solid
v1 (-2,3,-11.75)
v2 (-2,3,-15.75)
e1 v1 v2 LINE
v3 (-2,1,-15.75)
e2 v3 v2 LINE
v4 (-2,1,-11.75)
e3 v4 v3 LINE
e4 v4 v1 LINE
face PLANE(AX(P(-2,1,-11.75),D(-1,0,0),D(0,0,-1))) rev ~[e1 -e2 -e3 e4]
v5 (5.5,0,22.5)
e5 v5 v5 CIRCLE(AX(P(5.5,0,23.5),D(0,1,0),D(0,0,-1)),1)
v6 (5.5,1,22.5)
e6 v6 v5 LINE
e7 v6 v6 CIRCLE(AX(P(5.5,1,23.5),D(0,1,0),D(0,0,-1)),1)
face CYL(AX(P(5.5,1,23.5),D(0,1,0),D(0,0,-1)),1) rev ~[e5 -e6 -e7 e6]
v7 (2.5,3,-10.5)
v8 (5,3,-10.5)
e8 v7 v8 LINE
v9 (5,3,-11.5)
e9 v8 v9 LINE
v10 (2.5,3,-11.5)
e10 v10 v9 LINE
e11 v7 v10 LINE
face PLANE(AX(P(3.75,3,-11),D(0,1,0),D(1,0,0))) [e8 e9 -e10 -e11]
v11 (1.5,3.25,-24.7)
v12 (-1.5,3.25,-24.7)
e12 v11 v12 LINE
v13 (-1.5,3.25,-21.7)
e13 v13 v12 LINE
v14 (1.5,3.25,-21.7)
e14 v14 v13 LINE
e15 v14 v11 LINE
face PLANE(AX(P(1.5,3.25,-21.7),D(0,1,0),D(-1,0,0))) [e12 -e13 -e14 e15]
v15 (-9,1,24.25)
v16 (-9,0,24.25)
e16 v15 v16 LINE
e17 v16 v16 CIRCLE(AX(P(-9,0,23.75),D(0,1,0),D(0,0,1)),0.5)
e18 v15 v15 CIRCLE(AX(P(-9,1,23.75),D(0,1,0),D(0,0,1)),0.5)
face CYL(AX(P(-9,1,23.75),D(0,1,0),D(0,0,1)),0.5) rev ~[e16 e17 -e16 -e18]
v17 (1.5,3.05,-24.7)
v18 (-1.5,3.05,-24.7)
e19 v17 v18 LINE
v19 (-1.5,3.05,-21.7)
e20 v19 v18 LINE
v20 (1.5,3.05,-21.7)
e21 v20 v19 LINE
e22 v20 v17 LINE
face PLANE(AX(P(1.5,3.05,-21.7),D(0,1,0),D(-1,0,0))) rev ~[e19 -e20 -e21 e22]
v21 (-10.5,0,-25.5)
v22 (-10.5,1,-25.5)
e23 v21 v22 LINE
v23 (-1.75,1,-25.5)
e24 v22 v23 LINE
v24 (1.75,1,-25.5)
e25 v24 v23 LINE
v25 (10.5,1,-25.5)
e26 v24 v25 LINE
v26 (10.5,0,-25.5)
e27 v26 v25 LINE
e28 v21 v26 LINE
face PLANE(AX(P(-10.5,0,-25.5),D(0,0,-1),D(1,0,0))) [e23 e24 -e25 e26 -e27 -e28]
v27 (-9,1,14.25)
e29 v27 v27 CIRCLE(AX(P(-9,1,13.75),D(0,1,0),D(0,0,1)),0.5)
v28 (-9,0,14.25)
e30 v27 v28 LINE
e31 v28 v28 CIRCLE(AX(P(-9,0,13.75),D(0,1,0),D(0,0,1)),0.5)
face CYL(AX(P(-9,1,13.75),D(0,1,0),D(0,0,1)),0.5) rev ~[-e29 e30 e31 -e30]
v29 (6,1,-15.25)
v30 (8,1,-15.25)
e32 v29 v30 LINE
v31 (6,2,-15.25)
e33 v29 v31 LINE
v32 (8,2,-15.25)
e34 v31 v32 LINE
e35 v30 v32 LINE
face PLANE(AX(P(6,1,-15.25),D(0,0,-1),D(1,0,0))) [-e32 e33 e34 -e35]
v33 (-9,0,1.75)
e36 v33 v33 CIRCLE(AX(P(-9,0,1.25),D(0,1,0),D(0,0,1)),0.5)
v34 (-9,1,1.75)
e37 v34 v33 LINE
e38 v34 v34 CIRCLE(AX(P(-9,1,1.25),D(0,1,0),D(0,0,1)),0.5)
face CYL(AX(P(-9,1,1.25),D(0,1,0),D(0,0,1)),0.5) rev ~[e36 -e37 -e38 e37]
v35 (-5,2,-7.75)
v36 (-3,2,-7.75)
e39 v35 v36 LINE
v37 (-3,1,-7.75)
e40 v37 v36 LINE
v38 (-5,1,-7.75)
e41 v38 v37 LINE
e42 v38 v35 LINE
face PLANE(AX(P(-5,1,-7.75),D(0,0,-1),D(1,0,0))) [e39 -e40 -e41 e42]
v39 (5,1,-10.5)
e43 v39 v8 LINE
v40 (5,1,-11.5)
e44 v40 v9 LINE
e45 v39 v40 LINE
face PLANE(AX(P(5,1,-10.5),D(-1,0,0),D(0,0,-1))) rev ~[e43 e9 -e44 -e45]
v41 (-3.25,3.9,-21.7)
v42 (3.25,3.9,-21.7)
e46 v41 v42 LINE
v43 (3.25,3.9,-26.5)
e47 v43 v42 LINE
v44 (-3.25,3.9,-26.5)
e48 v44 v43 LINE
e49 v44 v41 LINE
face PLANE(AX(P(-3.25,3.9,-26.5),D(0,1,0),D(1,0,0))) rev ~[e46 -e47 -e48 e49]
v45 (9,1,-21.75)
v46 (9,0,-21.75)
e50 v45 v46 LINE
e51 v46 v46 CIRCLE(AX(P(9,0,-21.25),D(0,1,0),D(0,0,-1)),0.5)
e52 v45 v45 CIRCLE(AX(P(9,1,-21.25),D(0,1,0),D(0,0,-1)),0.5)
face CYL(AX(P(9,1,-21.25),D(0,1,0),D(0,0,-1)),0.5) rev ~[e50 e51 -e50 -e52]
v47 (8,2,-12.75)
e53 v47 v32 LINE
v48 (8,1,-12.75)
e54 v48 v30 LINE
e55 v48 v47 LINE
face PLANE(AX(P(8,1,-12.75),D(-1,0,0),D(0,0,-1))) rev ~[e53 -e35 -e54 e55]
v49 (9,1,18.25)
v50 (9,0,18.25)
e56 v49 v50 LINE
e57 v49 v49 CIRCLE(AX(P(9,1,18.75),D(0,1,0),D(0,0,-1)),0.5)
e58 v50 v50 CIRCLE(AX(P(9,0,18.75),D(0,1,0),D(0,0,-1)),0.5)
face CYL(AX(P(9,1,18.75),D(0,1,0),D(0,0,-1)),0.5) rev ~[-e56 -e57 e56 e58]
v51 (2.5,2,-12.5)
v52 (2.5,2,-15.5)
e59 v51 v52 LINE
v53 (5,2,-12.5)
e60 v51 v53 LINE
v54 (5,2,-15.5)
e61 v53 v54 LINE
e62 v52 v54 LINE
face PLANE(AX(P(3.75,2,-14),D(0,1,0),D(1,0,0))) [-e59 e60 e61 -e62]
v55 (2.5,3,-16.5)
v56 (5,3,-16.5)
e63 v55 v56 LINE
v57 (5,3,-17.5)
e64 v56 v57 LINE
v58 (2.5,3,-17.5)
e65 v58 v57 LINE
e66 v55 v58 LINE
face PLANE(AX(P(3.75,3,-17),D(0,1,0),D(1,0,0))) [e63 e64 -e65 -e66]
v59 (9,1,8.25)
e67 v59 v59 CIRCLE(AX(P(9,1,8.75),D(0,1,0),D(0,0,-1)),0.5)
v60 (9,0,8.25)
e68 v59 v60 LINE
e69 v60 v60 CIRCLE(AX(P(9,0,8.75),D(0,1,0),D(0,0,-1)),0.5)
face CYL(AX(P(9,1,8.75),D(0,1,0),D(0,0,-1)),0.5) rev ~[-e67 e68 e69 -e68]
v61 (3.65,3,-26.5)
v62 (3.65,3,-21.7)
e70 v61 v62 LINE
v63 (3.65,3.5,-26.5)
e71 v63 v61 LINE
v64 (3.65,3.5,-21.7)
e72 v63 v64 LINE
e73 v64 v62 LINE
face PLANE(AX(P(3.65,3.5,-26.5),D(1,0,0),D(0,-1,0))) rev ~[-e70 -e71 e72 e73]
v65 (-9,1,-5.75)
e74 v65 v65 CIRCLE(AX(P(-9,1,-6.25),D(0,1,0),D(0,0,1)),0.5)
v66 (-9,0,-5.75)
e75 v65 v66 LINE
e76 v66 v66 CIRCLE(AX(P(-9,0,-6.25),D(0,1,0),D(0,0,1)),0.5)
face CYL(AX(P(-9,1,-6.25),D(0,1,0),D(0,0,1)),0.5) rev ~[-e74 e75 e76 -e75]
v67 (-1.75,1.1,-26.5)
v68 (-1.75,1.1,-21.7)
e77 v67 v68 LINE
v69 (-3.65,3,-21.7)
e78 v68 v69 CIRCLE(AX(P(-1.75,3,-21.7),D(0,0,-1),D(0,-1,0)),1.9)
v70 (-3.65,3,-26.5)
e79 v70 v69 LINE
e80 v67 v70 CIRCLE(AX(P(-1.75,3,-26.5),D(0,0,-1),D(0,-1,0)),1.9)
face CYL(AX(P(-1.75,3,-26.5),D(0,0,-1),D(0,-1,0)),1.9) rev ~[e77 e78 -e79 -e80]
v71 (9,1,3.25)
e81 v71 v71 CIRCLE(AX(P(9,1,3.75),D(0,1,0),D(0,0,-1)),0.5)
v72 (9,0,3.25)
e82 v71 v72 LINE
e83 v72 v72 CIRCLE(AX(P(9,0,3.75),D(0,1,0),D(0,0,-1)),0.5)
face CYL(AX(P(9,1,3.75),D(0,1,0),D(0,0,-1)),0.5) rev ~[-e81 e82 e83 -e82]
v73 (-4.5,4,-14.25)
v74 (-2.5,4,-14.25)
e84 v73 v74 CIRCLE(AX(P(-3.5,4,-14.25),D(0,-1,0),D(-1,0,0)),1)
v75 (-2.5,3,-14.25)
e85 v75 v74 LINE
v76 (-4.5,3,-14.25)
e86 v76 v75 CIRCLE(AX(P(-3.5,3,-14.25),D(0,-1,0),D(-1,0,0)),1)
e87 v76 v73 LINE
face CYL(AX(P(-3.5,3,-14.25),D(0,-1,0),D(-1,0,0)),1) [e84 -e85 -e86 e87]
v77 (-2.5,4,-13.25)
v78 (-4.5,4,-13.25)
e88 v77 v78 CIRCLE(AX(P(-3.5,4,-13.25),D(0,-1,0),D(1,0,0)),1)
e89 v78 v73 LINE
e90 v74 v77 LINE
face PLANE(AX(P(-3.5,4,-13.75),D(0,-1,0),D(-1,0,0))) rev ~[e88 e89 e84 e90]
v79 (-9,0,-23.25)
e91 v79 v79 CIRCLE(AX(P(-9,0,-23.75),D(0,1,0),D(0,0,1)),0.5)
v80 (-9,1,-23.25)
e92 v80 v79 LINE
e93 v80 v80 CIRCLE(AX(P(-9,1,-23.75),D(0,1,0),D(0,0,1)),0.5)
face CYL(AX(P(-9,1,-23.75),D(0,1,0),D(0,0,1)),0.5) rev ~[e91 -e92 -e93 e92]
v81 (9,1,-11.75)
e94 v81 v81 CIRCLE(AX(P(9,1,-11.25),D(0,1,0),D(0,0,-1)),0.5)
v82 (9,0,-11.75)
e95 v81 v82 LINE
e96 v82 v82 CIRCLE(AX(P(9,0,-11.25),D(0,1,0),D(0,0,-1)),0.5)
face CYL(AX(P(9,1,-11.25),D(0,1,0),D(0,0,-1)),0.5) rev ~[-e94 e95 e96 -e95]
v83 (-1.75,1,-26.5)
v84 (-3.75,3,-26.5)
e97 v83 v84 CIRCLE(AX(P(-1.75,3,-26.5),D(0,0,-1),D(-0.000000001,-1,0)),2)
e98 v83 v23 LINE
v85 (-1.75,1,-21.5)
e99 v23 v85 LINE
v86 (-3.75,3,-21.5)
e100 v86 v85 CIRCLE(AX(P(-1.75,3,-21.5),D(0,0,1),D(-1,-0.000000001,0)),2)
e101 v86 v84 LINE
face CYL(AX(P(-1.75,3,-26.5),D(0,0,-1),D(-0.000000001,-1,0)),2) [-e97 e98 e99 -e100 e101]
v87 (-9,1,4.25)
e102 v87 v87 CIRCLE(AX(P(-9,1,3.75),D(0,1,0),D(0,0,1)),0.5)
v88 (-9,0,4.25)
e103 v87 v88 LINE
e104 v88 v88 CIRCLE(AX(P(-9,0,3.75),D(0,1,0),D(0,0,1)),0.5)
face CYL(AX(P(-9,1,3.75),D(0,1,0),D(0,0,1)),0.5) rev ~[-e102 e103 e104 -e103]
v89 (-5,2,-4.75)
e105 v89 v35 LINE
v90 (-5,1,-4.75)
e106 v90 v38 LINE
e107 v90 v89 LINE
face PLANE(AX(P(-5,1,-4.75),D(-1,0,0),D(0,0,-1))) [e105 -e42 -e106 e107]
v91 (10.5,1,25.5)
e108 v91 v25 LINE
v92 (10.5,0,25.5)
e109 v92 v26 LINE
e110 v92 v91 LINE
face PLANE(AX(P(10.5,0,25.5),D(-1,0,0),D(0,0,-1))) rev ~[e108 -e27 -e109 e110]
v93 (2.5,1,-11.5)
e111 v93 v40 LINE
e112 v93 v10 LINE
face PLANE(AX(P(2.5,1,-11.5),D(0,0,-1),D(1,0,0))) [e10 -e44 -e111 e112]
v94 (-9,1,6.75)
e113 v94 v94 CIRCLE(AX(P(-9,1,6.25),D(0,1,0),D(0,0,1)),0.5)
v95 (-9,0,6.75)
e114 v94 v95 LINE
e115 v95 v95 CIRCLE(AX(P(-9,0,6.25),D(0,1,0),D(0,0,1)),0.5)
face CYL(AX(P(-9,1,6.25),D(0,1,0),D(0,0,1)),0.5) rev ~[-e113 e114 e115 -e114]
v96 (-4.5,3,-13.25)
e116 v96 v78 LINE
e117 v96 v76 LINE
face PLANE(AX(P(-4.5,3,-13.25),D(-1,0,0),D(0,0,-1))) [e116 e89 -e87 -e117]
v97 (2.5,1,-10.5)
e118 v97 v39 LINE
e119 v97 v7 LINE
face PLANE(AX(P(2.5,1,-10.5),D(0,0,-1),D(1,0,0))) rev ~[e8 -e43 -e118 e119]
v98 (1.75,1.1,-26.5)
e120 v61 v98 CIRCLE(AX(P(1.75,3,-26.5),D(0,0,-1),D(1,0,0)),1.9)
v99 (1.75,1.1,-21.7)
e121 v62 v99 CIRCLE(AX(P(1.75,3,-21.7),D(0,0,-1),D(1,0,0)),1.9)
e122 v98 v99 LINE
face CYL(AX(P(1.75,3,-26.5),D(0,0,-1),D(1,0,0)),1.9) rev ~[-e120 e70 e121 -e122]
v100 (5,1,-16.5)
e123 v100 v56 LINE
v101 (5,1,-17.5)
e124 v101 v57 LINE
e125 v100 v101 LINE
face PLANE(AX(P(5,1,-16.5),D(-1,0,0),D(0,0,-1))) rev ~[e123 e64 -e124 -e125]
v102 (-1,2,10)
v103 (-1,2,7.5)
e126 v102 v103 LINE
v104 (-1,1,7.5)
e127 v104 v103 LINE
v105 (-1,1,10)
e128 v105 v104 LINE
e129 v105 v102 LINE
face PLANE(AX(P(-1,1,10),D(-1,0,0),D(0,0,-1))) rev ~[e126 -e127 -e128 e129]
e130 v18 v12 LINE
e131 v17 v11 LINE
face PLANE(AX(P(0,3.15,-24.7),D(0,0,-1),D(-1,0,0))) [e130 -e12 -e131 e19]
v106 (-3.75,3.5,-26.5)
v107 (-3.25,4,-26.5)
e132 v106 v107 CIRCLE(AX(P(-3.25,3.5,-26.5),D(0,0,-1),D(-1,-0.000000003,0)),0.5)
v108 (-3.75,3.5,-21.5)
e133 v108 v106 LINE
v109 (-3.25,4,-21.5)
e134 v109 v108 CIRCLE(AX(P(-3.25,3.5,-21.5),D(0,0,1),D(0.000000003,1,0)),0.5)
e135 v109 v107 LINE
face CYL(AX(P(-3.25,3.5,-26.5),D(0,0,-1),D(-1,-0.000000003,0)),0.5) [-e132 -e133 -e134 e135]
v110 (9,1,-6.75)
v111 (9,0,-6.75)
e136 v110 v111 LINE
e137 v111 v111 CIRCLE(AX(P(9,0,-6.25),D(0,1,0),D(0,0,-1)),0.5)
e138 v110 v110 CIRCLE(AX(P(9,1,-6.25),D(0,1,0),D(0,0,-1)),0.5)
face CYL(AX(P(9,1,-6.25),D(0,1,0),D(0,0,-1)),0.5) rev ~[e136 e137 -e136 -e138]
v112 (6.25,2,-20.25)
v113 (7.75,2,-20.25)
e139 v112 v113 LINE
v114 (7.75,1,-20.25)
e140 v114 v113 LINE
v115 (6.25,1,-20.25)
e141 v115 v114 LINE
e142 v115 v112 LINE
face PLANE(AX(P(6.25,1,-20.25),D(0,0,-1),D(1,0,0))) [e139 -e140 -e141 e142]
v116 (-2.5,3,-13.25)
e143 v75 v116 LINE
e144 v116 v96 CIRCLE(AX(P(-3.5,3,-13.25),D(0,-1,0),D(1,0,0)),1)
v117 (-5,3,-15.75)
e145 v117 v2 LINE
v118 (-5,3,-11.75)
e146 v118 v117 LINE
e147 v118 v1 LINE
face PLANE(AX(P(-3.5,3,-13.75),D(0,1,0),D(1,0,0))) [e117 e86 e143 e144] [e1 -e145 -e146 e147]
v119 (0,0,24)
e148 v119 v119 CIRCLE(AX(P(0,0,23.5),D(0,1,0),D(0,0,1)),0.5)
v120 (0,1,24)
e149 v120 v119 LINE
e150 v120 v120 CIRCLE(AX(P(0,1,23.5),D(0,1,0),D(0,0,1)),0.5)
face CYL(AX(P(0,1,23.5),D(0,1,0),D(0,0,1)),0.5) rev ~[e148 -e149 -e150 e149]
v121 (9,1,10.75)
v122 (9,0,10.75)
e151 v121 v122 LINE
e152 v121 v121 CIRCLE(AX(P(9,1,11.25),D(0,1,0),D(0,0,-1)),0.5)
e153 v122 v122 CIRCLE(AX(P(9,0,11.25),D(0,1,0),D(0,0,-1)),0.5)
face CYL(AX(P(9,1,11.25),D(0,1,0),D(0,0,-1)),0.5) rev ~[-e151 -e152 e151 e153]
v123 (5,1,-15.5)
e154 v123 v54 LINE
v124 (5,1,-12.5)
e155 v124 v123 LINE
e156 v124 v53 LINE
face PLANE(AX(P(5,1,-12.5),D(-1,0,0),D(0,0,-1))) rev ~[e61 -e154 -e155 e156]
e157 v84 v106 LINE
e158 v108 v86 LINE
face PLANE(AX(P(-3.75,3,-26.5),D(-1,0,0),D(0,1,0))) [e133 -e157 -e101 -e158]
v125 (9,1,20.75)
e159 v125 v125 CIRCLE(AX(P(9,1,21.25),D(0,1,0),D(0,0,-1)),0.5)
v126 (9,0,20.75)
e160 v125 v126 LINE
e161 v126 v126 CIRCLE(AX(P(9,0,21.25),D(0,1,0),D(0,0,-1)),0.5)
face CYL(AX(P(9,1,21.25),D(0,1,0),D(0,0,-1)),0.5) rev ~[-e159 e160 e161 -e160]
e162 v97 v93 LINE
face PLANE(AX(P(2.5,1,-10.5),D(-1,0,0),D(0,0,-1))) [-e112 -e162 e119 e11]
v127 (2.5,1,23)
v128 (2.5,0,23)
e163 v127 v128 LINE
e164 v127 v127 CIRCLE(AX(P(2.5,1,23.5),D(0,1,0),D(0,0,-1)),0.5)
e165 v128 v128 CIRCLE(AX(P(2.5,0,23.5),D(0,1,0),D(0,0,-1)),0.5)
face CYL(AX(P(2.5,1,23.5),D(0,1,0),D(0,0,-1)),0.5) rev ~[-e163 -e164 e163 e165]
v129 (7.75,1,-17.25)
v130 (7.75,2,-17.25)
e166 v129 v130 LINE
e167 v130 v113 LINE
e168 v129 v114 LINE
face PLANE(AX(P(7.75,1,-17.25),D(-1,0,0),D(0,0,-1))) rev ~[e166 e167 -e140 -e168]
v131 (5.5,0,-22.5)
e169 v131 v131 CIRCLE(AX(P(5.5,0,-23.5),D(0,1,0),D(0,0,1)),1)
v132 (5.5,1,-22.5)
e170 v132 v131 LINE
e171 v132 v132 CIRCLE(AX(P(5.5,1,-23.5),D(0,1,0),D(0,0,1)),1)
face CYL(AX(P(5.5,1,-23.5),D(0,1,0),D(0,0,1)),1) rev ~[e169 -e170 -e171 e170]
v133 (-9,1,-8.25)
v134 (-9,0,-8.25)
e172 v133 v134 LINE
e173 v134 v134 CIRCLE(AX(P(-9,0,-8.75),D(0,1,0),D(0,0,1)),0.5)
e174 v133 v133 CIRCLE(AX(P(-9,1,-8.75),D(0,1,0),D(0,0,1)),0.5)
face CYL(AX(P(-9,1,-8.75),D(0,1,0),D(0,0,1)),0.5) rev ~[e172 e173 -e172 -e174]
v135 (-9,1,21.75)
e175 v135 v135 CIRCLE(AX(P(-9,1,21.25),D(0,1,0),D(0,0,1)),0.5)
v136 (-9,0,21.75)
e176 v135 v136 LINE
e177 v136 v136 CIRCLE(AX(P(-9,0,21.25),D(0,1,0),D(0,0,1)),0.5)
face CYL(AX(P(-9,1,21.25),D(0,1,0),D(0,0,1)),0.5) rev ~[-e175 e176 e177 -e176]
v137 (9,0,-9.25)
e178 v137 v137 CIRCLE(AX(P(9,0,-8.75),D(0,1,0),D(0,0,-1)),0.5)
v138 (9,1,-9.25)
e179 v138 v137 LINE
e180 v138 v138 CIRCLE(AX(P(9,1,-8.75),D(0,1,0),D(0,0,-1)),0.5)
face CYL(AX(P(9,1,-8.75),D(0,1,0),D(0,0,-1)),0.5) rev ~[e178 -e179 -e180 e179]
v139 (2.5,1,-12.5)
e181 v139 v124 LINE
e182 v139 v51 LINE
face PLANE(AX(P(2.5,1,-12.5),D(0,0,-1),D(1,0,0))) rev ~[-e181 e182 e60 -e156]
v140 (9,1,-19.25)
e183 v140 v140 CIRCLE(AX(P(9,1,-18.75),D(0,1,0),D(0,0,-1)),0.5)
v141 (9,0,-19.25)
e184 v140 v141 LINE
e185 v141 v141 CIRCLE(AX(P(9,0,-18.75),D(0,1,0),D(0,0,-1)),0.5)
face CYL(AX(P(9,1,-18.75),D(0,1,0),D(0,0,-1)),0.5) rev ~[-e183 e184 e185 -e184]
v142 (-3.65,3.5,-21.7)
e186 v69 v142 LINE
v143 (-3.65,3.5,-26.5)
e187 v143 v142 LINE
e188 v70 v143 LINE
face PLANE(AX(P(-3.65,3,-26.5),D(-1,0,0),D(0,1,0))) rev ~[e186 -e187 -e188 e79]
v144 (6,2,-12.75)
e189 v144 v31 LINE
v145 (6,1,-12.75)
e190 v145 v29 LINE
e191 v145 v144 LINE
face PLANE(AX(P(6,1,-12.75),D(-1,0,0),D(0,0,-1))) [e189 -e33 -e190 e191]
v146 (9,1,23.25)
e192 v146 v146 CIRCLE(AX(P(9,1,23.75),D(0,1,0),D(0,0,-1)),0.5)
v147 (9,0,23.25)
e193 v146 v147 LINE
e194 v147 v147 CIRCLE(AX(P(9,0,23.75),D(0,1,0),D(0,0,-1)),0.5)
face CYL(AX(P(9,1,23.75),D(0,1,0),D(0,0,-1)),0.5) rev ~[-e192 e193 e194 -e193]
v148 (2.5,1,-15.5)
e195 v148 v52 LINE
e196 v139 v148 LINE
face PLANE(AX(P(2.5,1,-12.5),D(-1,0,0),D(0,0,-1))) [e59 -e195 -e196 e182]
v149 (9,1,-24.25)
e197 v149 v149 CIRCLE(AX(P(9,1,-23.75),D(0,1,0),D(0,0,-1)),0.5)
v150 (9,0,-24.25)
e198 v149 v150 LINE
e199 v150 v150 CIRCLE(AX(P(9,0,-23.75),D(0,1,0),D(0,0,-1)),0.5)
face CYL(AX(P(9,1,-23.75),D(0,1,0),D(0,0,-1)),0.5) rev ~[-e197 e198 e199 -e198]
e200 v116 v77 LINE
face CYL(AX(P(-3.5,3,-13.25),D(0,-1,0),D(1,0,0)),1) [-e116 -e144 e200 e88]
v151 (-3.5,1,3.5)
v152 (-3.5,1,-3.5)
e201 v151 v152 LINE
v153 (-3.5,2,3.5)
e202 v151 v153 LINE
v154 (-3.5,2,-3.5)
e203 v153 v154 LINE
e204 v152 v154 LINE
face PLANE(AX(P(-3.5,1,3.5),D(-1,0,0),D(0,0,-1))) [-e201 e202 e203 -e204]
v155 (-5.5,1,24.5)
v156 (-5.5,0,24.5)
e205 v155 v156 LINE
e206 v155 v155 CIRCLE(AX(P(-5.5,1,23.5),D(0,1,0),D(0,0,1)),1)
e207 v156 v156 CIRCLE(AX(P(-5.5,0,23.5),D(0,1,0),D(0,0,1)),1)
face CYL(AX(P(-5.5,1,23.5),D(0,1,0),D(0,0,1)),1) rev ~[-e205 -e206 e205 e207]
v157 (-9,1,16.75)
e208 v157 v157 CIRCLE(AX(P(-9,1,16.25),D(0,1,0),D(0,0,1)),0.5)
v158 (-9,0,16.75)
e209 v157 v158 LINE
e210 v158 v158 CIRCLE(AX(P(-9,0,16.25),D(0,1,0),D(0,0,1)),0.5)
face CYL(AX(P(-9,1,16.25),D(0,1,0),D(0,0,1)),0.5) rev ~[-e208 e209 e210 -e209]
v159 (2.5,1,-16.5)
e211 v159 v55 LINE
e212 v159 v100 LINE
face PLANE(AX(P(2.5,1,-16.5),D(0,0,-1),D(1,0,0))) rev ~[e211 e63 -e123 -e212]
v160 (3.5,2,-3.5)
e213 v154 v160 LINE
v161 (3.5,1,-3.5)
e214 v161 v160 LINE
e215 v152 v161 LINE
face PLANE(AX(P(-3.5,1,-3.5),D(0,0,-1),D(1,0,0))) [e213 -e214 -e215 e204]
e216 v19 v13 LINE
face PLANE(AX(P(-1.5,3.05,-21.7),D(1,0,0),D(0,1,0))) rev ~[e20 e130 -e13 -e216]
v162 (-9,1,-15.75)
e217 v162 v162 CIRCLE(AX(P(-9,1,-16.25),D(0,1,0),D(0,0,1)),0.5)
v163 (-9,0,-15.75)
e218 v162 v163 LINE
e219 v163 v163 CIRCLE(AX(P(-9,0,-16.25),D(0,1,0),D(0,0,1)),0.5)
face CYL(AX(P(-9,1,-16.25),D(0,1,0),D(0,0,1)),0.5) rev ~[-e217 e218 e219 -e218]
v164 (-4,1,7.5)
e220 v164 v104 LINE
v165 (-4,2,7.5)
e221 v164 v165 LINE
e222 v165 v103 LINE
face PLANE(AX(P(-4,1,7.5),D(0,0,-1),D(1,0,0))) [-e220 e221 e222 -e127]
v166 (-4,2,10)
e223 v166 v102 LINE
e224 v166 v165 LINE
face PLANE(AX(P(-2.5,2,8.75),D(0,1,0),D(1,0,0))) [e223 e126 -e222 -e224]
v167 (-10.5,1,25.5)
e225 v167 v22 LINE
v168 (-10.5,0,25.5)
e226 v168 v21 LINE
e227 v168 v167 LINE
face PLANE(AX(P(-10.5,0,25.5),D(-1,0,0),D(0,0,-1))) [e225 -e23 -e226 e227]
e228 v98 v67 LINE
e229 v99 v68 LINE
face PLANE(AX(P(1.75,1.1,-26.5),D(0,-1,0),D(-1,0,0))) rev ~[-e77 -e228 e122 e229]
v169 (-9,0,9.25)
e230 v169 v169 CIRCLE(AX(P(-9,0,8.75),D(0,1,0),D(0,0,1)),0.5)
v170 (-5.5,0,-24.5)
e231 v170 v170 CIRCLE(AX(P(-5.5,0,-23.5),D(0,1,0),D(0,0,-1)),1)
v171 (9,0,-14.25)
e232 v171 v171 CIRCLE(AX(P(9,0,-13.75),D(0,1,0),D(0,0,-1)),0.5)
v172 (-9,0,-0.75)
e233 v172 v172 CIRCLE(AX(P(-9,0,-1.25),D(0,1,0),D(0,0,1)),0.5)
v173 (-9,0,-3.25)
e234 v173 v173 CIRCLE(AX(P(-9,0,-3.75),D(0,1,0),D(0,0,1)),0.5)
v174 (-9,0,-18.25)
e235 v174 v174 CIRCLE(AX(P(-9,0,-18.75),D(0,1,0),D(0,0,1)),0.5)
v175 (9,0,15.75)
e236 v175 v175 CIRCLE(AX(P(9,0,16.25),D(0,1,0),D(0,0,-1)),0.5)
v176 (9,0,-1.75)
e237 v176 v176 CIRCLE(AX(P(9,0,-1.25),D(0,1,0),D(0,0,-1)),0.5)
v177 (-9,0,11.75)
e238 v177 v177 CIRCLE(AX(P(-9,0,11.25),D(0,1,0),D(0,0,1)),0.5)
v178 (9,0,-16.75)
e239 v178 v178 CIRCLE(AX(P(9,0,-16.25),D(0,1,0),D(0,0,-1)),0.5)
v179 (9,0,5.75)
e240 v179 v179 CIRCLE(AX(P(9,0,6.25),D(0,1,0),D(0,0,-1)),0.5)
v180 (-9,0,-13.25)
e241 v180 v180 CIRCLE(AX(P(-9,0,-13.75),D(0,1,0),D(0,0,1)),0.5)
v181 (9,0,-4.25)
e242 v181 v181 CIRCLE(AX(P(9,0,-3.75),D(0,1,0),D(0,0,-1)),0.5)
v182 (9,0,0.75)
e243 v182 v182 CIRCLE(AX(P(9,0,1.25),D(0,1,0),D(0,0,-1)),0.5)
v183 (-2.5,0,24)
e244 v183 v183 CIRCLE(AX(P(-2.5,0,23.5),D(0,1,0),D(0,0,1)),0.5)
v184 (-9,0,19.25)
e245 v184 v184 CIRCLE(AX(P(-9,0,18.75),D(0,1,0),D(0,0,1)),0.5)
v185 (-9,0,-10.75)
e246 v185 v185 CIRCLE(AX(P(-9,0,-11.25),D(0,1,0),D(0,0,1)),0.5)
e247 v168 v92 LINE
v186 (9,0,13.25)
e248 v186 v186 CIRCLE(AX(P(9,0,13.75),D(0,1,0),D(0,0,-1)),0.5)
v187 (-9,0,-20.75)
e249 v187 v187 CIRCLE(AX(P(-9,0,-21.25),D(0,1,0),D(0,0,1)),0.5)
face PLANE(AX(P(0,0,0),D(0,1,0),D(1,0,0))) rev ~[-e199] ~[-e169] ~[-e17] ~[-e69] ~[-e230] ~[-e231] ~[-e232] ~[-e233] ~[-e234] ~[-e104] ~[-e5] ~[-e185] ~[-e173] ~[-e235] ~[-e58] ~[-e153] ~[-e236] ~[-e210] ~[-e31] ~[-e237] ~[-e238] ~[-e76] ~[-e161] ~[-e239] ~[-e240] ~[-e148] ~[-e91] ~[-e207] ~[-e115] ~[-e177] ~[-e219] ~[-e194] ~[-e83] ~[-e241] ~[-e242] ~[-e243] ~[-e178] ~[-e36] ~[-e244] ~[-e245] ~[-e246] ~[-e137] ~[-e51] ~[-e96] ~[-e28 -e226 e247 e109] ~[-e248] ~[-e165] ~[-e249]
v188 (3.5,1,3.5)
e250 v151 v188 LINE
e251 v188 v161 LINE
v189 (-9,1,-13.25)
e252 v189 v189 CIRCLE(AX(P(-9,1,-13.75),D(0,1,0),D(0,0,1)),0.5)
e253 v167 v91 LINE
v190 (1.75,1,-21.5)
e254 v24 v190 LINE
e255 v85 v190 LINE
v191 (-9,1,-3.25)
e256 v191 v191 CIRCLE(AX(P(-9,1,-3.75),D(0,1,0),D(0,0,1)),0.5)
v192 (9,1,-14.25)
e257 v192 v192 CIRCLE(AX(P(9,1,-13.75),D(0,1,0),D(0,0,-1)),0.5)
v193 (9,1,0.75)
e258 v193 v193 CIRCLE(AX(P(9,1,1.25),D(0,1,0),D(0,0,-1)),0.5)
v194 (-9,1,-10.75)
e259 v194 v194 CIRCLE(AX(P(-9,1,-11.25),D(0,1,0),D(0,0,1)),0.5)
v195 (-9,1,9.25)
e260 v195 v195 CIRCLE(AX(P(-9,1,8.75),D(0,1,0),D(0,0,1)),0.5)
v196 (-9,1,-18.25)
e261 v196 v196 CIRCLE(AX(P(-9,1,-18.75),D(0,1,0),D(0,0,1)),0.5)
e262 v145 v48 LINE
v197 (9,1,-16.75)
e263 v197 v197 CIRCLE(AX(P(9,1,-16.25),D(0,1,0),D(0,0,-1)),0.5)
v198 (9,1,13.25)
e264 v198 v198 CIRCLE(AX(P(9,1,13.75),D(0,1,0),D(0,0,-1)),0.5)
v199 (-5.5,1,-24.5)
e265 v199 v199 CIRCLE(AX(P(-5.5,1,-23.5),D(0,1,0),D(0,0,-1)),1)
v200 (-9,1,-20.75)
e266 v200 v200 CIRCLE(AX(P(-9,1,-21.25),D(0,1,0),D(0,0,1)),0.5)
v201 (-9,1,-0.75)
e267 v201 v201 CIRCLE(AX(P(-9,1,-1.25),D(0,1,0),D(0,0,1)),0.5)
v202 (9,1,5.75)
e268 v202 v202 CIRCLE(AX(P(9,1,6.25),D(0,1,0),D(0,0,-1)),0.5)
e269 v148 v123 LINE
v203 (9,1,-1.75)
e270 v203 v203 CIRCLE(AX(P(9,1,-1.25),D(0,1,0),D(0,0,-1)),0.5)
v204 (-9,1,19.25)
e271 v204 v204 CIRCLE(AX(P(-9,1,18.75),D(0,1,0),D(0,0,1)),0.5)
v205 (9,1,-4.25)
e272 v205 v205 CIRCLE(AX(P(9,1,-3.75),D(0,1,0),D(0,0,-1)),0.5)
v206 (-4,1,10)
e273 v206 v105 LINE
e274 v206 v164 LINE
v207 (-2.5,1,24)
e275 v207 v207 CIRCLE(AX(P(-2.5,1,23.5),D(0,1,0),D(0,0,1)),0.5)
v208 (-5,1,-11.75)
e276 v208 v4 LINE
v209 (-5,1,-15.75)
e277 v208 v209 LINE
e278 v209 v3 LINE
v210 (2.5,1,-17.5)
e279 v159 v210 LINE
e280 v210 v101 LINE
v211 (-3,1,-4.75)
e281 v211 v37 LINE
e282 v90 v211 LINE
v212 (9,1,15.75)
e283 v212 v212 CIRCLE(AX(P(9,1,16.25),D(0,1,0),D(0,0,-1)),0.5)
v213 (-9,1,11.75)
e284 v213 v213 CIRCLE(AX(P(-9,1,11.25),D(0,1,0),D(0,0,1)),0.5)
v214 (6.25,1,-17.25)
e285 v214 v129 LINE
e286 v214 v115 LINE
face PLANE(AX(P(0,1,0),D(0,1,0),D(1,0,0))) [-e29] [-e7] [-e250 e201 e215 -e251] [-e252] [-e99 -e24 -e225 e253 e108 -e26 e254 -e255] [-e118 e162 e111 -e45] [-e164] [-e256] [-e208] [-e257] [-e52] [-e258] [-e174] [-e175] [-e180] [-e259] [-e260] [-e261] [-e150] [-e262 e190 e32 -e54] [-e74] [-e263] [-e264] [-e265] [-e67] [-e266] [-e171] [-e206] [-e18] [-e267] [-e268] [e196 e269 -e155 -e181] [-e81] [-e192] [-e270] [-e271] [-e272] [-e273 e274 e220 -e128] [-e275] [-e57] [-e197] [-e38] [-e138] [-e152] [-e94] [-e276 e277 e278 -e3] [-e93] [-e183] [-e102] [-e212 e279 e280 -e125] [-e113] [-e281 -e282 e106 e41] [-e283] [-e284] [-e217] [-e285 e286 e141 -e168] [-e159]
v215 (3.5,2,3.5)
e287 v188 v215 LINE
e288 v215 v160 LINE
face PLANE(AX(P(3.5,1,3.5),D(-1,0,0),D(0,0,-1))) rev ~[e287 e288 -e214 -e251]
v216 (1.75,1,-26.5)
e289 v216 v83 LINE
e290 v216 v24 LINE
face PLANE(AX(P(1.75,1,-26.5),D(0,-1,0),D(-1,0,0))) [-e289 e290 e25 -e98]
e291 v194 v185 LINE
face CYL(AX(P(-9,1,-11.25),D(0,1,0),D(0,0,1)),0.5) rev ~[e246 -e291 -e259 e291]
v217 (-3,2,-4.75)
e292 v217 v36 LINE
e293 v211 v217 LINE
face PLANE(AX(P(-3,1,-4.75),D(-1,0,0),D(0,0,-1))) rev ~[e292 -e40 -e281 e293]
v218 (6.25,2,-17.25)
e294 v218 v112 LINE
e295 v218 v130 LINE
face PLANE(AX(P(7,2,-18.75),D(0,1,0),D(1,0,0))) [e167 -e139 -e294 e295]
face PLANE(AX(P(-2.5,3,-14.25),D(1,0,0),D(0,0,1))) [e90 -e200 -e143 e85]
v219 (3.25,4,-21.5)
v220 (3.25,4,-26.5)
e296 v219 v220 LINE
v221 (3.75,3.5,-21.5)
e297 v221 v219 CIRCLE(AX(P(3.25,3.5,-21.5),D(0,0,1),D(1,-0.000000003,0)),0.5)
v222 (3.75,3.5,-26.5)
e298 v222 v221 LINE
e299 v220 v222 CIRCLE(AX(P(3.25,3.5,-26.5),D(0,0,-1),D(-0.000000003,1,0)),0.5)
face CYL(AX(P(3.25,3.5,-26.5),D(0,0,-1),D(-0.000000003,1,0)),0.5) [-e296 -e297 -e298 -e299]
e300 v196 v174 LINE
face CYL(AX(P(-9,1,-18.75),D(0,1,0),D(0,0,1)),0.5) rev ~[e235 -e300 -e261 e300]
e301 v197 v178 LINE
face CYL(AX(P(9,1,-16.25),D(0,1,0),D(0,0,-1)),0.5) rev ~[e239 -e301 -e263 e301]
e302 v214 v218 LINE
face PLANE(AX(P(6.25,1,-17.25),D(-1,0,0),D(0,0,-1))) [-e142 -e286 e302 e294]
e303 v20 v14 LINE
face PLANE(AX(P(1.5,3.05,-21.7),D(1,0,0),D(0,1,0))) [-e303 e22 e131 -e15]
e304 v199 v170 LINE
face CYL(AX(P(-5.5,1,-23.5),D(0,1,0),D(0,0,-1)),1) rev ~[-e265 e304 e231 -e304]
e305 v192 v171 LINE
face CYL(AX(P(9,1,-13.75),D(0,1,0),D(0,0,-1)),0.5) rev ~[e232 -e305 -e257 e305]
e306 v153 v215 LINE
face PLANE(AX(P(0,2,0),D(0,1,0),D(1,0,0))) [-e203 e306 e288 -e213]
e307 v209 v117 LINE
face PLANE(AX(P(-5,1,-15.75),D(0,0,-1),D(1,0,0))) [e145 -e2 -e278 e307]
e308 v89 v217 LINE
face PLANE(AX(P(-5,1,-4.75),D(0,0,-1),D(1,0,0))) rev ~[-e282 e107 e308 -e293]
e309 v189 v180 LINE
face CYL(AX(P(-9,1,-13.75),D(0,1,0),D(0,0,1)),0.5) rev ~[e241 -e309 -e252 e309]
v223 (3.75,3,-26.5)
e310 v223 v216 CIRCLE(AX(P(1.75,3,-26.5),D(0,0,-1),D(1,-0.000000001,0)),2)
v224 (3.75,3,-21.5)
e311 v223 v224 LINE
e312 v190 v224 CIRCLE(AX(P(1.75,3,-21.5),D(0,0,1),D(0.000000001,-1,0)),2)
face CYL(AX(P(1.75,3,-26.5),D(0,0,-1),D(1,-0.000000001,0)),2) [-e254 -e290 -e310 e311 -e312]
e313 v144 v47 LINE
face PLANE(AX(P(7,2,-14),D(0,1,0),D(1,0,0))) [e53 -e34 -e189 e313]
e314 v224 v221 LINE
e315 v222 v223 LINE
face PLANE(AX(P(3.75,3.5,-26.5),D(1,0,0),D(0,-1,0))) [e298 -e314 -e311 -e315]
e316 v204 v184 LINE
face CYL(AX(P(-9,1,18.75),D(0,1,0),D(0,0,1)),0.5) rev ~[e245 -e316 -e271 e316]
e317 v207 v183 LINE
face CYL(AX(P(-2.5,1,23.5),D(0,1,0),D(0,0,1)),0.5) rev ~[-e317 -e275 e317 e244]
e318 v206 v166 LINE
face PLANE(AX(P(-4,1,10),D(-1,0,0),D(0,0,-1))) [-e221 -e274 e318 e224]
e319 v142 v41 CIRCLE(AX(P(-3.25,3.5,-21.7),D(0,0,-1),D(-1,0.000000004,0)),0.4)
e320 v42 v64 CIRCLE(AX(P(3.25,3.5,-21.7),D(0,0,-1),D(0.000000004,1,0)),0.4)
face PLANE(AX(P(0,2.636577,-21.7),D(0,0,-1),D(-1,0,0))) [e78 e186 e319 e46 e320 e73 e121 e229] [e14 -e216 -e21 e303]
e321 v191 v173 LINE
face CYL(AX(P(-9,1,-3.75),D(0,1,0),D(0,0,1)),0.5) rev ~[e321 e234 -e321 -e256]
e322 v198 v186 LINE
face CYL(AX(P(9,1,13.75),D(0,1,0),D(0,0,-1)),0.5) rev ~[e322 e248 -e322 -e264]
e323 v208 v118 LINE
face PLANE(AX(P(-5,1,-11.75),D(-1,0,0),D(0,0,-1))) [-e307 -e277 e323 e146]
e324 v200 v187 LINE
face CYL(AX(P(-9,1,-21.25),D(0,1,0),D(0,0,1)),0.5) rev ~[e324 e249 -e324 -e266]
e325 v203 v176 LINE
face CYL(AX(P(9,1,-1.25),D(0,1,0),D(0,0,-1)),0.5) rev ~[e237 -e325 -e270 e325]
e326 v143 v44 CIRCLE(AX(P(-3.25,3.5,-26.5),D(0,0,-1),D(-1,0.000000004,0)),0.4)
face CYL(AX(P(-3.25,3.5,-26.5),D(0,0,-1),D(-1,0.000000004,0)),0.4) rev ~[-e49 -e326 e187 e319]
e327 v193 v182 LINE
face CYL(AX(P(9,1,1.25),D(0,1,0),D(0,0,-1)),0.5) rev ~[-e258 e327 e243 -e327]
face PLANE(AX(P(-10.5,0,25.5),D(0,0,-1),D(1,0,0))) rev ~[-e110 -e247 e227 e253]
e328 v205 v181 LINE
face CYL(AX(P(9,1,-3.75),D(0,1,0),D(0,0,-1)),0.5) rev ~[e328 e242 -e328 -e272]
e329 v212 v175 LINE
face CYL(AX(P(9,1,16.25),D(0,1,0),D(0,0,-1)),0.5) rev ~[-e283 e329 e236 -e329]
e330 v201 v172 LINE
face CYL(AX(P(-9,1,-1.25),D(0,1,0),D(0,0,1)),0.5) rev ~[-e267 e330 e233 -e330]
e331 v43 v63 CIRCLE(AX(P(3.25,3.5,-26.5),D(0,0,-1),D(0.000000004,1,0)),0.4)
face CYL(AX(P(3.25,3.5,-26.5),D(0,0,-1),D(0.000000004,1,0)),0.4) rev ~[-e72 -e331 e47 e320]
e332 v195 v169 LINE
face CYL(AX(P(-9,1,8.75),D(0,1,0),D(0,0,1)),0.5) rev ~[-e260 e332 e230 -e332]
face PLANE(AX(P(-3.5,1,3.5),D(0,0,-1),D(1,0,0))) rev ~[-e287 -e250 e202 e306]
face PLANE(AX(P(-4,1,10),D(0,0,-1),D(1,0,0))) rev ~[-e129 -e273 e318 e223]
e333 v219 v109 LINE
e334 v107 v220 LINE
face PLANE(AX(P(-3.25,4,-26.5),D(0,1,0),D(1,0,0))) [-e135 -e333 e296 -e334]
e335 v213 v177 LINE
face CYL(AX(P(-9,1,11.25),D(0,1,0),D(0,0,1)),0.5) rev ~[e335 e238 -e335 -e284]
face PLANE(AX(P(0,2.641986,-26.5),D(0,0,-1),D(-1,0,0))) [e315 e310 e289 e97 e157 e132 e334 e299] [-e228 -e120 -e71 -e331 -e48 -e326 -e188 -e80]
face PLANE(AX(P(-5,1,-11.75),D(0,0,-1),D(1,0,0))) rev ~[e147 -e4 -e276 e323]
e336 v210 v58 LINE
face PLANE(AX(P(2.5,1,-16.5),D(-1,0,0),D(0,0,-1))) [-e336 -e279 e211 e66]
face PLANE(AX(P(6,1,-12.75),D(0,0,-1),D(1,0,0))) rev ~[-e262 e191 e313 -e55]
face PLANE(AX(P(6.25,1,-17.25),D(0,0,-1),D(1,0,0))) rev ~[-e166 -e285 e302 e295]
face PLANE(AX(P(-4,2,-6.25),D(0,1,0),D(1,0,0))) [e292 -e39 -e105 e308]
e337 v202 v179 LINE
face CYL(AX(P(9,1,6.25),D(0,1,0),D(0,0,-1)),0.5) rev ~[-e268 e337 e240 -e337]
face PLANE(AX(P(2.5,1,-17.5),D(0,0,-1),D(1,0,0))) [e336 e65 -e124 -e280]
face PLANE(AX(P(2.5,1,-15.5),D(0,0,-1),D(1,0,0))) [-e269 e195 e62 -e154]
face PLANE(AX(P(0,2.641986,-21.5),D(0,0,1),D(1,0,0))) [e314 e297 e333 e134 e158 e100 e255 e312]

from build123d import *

# Parameters (mm, degrees)
SKETCH1_W           = 21
SKETCH1_H           = 51
TOPFACE_DEPTH       = 1
SKETCH2_R           = 0.5
SKETCH2_R_2         = 1
CUT_EXTRUDE1_DEPTH  = 28.595289453
SKETCH3_W           = 7
SKETCH3_H           = 7
BOSS_EXTRUDE2_DEPTH = 1
SKETCH4_W           = 3
SKETCH4_H           = 4
BOSS_EXTRUDE3_DEPTH = 2
BOSS_EXTRUDE4_DEPTH = 1
SKETCH6_W           = 1.5
SKETCH6_H           = 3
SKETCH6_W_2         = 2
SKETCH6_H_2         = 2.5
SKETCH6_W_3         = 2.5
SKETCH6_W_4         = 3
BOSS_EXTRUDE5_DEPTH = 1
SKETCH7_W           = 2.5
SKETCH7_H           = 1
BOSS_EXTRUDE6_DEPTH = 2
BOSS_EXTRUDE7_DEPTH = 4
BOSS_EXTRUDE8_START = 1
BOSS_EXTRUDE8_DEPTH = 1
CUT_EXTRUDE2_DEPTH  = 4.8
SKETCH11_W          = 3
SKETCH11_H          = 0.2
BOSS_EXTRUDE9_DEPTH = 3


with BuildPart() as part:
    # Sketch1 → TopFace (new body)
    with BuildSketch(Plane(origin=(0, 0, 0), x_dir=(1, 0, 0), z_dir=(0, 1, 0))):
        Rectangle(SKETCH1_W, SKETCH1_H)
    extrude(amount=TOPFACE_DEPTH)

    # Sketch2 → Cut-Extrude1 (cut, through all)
    with BuildSketch(Plane(origin=(0, 1, 0), x_dir=(1, 0, 0), z_dir=(0, 1, 0))):
        with Locations(Location((-9, 23.75, 0), (0, 0, 270))):
            Circle(SKETCH2_R)
        with Locations(Location((-9, 21.25, 0), (0, 0, 270))):
            Circle(SKETCH2_R)
        with Locations(Location((-9, 18.75, 0), (0, 0, 270))):
            Circle(SKETCH2_R)
        with Locations(Location((-9, 16.25, 0), (0, 0, 270))):
            Circle(SKETCH2_R)
        with Locations(Location((-9, 13.75, 0), (0, 0, 270))):
            Circle(SKETCH2_R)
        with Locations(Location((-9, 11.25, 0), (0, 0, 270))):
            Circle(SKETCH2_R)
        with Locations(Location((-9, 8.75, 0), (0, 0, 270))):
            Circle(SKETCH2_R)
        with Locations(Location((-9, 6.25, 0), (0, 0, 270))):
            Circle(SKETCH2_R)
        with Locations(Location((-9, 3.75, 0), (0, 0, 270))):
            Circle(SKETCH2_R)
        with Locations(Location((-9, 1.25, 0), (0, 0, 270))):
            Circle(SKETCH2_R)
        with Locations(Location((-9, -1.25, 0), (0, 0, 270))):
            Circle(SKETCH2_R)
        with Locations(Location((-9, -3.75, 0), (0, 0, 270))):
            Circle(SKETCH2_R)
        with Locations(Location((-9, -6.25, 0), (0, 0, 270))):
            Circle(SKETCH2_R)
        with Locations(Location((-9, -8.75, 0), (0, 0, 270))):
            Circle(SKETCH2_R)
        with Locations(Location((-9, -11.25, 0), (0, 0, 270))):
            Circle(SKETCH2_R)
        with Locations(Location((-9, -13.75, 0), (0, 0, 270))):
            Circle(SKETCH2_R)
        with Locations(Location((-9, -16.25, 0), (0, 0, 270))):
            Circle(SKETCH2_R)
        with Locations(Location((-9, -18.75, 0), (0, 0, 270))):
            Circle(SKETCH2_R)
        with Locations(Location((-9, -21.25, 0), (0, 0, 270))):
            Circle(SKETCH2_R)
        with Locations(Location((-9, -23.75, 0), (0, 0, 270))):
            Circle(SKETCH2_R)
        with Locations(Location((9, -23.75, 0), (0, 0, 90))):
            Circle(SKETCH2_R)
        with Locations(Location((9, -21.25, 0), (0, 0, 90))):
            Circle(SKETCH2_R)
        with Locations(Location((9, -18.75, 0), (0, 0, 90))):
            Circle(SKETCH2_R)
        with Locations(Location((9, -16.25, 0), (0, 0, 90))):
            Circle(SKETCH2_R)
        with Locations(Location((9, -13.75, 0), (0, 0, 90))):
            Circle(SKETCH2_R)
        with Locations(Location((9, -11.25, 0), (0, 0, 90))):
            Circle(SKETCH2_R)
        with Locations(Location((9, -8.75, 0), (0, 0, 90))):
            Circle(SKETCH2_R)
        with Locations(Location((9, -6.25, 0), (0, 0, 90))):
            Circle(SKETCH2_R)
        with Locations(Location((9, -3.75, 0), (0, 0, 90))):
            Circle(SKETCH2_R)
        with Locations(Location((9, -1.25, 0), (0, 0, 90))):
            Circle(SKETCH2_R)
        with Locations(Location((9, 1.25, 0), (0, 0, 90))):
            Circle(SKETCH2_R)
        with Locations(Location((9, 3.75, 0), (0, 0, 90))):
            Circle(SKETCH2_R)
        with Locations(Location((9, 6.25, 0), (0, 0, 90))):
            Circle(SKETCH2_R)
        with Locations(Location((9, 8.75, 0), (0, 0, 90))):
            Circle(SKETCH2_R)
        with Locations(Location((9, 11.25, 0), (0, 0, 90))):
            Circle(SKETCH2_R)
        with Locations(Location((9, 13.75, 0), (0, 0, 90))):
            Circle(SKETCH2_R)
        with Locations(Location((9, 16.25, 0), (0, 0, 90))):
            Circle(SKETCH2_R)
        with Locations(Location((9, 18.75, 0), (0, 0, 90))):
            Circle(SKETCH2_R)
        with Locations(Location((9, 21.25, 0), (0, 0, 90))):
            Circle(SKETCH2_R)
        with Locations(Location((9, 23.75, 0), (0, 0, 90))):
            Circle(SKETCH2_R)
        with Locations(Location((0, -23.5, 0), (0, 0, 270))):
            Circle(SKETCH2_R)
        with Locations(Location((-2.5, -23.5, 0), (0, 0, 270))):
            Circle(SKETCH2_R)
        with Locations(Location((2.5, -23.5, 0), (0, 0, 90))):
            Circle(SKETCH2_R)
        with Locations(Location((-5.5, -23.5, 0), (0, 0, 270))):
            Circle(SKETCH2_R_2)
        with Locations(Location((5.5, -23.5, 0), (0, 0, 90))):
            Circle(SKETCH2_R_2)
        with Locations(Location((-5.5, 23.5, 0), (0, 0, 90))):
            Circle(SKETCH2_R_2)
        with Locations(Location((5.5, 23.5, 0), (0, 0, 270))):
            Circle(SKETCH2_R_2)
    extrude(amount=-CUT_EXTRUDE1_DEPTH, mode=Mode.SUBTRACT)

    # Sketch3 → Boss-Extrude2 (add)
    with BuildSketch(Plane(origin=(0, 1, 0), x_dir=(1, 0, 0), z_dir=(0, 1, 0))):
        Rectangle(SKETCH3_W, SKETCH3_H)
    extrude(amount=BOSS_EXTRUDE2_DEPTH)

    # Sketch4 → Boss-Extrude3 (add)
    with BuildSketch(Plane(origin=(0, 1, 0), x_dir=(1, 0, 0), z_dir=(0, 1, 0))):
        with Locations((-3.5, 13.75)):
            Rectangle(SKETCH4_W, SKETCH4_H)
    extrude(amount=BOSS_EXTRUDE3_DEPTH)

    # Sketch5 → Boss-Extrude4 (add)
    with BuildSketch(Plane(origin=(0, 3, 0), x_dir=(1, 0, 0), z_dir=(0, 1, 0))):
        with BuildLine():
            Line((-2.5, 14.25), (-2.5, 13.25))
            ThreePointArc((-2.5, 13.25), (-3.5, 12.25), (-4.5, 13.25))
            Line((-4.5, 13.25), (-4.5, 14.25))
            ThreePointArc((-4.5, 14.25), (-3.5, 15.25), (-2.5, 14.25))
        make_face()
    extrude(amount=BOSS_EXTRUDE4_DEPTH)

    # Sketch6 → Boss-Extrude5 (add)
    with BuildSketch(Plane(origin=(0, 1, 0), x_dir=(1, 0, 0), z_dir=(0, 1, 0))):
        with Locations((7, 18.75)):
            Rectangle(SKETCH6_W, SKETCH6_H)
        with Locations((7, 14)):
            Rectangle(SKETCH6_W_2, SKETCH6_H_2)
        with Locations((3.75, 14)):
            Rectangle(SKETCH6_W_3, SKETCH6_H)
        with Locations((-4, 6.25)):
            Rectangle(SKETCH6_W_2, SKETCH6_H)
        with Locations((-2.5, -8.75)):
            Rectangle(SKETCH6_W_4, SKETCH6_H_2)
    extrude(amount=BOSS_EXTRUDE5_DEPTH)

    # Sketch7 → Boss-Extrude6 (add)
    with BuildSketch(Plane(origin=(0, 1, 0), x_dir=(1, 0, 0), z_dir=(0, 1, 0))):
        with Locations((3.75, 17)):
            Rectangle(SKETCH7_W, SKETCH7_H)
        with Locations((3.75, 11)):
            Rectangle(SKETCH7_W, SKETCH7_H)
    extrude(amount=BOSS_EXTRUDE6_DEPTH)

    # Sketch8 → Boss-Extrude7 (add)
    with BuildSketch(Plane(origin=(0, 0, -25.5), x_dir=(-1, 0, 0), z_dir=(0, 0, -1))):
        with BuildLine():
            Line((-3.25, 4), (3.25, 4))
            ThreePointArc((3.25, 4), (3.603553391, 3.853553391), (3.75, 3.5))
            Line((3.75, 3.5), (3.75, 3))
            ThreePointArc((3.75, 3), (3.164213562, 1.585786438), (1.75, 1))
            Line((1.75, 1), (-1.75, 1))
            ThreePointArc((-1.75, 1), (-3.164213562, 1.585786438), (-3.75, 3))
            Line((-3.75, 3), (-3.75, 3.5))
            ThreePointArc((-3.75, 3.5), (-3.603553391, 3.853553391), (-3.25, 4))
        make_face()
    extrude(amount=-BOSS_EXTRUDE7_DEPTH)

    # Sketch9 → Boss-Extrude8 (add)
    with BuildSketch(Plane(origin=(0, 0, -25.5), x_dir=(-1, 0, 0), z_dir=(0, 0, -1)).offset(BOSS_EXTRUDE8_START)):
        with BuildLine():
            Line((-1.75, 1), (1.75, 1))
            ThreePointArc((1.75, 1), (3.164213562, 1.585786438), (3.75, 3))
            Line((3.75, 3), (3.75, 3.5))
            ThreePointArc((3.75, 3.5), (3.603553391, 3.853553391), (3.25, 4))
            Line((3.25, 4), (-3.25, 4))
            ThreePointArc((-3.25, 4), (-3.603553391, 3.853553391), (-3.75, 3.5))
            Line((-3.75, 3.5), (-3.75, 3))
            ThreePointArc((-3.75, 3), (-3.164213562, 1.585786438), (-1.75, 1))
        make_face()
    extrude(amount=-BOSS_EXTRUDE8_DEPTH)

    # Sketch10 → Cut-Extrude2 (cut)
    with BuildSketch(Plane(origin=(0, 0, -26.5), x_dir=(-1, 0, 0), z_dir=(0, 0, -1))):
        with BuildLine():
            Line((3.25, 3.9), (-3.25, 3.9))
            ThreePointArc((-3.25, 3.9), (-3.532842712, 3.782842712), (-3.65, 3.5))
            Line((-3.65, 3.5), (-3.65, 3))
            ThreePointArc((-3.65, 3), (-3.093502884, 1.656497116), (-1.75, 1.1))
            Line((-1.75, 1.1), (1.75, 1.1))
            ThreePointArc((1.75, 1.1), (3.093502884, 1.656497116), (3.65, 3))
            Line((3.65, 3), (3.65, 3.5))
            ThreePointArc((3.65, 3.5), (3.532842712, 3.782842712), (3.25, 3.9))
        make_face()
    extrude(amount=-CUT_EXTRUDE2_DEPTH, mode=Mode.SUBTRACT)

    # Sketch11 → Boss-Extrude9 (add)
    with BuildSketch(Plane(origin=(0, 0, -21.7), x_dir=(-1, 0, 0), z_dir=(0, 0, -1))):
        with Locations((0, 3.15)):
            Rectangle(SKETCH11_W, SKETCH11_H)
    extrude(amount=BOSS_EXTRUDE9_DEPTH)


solid = part.part
